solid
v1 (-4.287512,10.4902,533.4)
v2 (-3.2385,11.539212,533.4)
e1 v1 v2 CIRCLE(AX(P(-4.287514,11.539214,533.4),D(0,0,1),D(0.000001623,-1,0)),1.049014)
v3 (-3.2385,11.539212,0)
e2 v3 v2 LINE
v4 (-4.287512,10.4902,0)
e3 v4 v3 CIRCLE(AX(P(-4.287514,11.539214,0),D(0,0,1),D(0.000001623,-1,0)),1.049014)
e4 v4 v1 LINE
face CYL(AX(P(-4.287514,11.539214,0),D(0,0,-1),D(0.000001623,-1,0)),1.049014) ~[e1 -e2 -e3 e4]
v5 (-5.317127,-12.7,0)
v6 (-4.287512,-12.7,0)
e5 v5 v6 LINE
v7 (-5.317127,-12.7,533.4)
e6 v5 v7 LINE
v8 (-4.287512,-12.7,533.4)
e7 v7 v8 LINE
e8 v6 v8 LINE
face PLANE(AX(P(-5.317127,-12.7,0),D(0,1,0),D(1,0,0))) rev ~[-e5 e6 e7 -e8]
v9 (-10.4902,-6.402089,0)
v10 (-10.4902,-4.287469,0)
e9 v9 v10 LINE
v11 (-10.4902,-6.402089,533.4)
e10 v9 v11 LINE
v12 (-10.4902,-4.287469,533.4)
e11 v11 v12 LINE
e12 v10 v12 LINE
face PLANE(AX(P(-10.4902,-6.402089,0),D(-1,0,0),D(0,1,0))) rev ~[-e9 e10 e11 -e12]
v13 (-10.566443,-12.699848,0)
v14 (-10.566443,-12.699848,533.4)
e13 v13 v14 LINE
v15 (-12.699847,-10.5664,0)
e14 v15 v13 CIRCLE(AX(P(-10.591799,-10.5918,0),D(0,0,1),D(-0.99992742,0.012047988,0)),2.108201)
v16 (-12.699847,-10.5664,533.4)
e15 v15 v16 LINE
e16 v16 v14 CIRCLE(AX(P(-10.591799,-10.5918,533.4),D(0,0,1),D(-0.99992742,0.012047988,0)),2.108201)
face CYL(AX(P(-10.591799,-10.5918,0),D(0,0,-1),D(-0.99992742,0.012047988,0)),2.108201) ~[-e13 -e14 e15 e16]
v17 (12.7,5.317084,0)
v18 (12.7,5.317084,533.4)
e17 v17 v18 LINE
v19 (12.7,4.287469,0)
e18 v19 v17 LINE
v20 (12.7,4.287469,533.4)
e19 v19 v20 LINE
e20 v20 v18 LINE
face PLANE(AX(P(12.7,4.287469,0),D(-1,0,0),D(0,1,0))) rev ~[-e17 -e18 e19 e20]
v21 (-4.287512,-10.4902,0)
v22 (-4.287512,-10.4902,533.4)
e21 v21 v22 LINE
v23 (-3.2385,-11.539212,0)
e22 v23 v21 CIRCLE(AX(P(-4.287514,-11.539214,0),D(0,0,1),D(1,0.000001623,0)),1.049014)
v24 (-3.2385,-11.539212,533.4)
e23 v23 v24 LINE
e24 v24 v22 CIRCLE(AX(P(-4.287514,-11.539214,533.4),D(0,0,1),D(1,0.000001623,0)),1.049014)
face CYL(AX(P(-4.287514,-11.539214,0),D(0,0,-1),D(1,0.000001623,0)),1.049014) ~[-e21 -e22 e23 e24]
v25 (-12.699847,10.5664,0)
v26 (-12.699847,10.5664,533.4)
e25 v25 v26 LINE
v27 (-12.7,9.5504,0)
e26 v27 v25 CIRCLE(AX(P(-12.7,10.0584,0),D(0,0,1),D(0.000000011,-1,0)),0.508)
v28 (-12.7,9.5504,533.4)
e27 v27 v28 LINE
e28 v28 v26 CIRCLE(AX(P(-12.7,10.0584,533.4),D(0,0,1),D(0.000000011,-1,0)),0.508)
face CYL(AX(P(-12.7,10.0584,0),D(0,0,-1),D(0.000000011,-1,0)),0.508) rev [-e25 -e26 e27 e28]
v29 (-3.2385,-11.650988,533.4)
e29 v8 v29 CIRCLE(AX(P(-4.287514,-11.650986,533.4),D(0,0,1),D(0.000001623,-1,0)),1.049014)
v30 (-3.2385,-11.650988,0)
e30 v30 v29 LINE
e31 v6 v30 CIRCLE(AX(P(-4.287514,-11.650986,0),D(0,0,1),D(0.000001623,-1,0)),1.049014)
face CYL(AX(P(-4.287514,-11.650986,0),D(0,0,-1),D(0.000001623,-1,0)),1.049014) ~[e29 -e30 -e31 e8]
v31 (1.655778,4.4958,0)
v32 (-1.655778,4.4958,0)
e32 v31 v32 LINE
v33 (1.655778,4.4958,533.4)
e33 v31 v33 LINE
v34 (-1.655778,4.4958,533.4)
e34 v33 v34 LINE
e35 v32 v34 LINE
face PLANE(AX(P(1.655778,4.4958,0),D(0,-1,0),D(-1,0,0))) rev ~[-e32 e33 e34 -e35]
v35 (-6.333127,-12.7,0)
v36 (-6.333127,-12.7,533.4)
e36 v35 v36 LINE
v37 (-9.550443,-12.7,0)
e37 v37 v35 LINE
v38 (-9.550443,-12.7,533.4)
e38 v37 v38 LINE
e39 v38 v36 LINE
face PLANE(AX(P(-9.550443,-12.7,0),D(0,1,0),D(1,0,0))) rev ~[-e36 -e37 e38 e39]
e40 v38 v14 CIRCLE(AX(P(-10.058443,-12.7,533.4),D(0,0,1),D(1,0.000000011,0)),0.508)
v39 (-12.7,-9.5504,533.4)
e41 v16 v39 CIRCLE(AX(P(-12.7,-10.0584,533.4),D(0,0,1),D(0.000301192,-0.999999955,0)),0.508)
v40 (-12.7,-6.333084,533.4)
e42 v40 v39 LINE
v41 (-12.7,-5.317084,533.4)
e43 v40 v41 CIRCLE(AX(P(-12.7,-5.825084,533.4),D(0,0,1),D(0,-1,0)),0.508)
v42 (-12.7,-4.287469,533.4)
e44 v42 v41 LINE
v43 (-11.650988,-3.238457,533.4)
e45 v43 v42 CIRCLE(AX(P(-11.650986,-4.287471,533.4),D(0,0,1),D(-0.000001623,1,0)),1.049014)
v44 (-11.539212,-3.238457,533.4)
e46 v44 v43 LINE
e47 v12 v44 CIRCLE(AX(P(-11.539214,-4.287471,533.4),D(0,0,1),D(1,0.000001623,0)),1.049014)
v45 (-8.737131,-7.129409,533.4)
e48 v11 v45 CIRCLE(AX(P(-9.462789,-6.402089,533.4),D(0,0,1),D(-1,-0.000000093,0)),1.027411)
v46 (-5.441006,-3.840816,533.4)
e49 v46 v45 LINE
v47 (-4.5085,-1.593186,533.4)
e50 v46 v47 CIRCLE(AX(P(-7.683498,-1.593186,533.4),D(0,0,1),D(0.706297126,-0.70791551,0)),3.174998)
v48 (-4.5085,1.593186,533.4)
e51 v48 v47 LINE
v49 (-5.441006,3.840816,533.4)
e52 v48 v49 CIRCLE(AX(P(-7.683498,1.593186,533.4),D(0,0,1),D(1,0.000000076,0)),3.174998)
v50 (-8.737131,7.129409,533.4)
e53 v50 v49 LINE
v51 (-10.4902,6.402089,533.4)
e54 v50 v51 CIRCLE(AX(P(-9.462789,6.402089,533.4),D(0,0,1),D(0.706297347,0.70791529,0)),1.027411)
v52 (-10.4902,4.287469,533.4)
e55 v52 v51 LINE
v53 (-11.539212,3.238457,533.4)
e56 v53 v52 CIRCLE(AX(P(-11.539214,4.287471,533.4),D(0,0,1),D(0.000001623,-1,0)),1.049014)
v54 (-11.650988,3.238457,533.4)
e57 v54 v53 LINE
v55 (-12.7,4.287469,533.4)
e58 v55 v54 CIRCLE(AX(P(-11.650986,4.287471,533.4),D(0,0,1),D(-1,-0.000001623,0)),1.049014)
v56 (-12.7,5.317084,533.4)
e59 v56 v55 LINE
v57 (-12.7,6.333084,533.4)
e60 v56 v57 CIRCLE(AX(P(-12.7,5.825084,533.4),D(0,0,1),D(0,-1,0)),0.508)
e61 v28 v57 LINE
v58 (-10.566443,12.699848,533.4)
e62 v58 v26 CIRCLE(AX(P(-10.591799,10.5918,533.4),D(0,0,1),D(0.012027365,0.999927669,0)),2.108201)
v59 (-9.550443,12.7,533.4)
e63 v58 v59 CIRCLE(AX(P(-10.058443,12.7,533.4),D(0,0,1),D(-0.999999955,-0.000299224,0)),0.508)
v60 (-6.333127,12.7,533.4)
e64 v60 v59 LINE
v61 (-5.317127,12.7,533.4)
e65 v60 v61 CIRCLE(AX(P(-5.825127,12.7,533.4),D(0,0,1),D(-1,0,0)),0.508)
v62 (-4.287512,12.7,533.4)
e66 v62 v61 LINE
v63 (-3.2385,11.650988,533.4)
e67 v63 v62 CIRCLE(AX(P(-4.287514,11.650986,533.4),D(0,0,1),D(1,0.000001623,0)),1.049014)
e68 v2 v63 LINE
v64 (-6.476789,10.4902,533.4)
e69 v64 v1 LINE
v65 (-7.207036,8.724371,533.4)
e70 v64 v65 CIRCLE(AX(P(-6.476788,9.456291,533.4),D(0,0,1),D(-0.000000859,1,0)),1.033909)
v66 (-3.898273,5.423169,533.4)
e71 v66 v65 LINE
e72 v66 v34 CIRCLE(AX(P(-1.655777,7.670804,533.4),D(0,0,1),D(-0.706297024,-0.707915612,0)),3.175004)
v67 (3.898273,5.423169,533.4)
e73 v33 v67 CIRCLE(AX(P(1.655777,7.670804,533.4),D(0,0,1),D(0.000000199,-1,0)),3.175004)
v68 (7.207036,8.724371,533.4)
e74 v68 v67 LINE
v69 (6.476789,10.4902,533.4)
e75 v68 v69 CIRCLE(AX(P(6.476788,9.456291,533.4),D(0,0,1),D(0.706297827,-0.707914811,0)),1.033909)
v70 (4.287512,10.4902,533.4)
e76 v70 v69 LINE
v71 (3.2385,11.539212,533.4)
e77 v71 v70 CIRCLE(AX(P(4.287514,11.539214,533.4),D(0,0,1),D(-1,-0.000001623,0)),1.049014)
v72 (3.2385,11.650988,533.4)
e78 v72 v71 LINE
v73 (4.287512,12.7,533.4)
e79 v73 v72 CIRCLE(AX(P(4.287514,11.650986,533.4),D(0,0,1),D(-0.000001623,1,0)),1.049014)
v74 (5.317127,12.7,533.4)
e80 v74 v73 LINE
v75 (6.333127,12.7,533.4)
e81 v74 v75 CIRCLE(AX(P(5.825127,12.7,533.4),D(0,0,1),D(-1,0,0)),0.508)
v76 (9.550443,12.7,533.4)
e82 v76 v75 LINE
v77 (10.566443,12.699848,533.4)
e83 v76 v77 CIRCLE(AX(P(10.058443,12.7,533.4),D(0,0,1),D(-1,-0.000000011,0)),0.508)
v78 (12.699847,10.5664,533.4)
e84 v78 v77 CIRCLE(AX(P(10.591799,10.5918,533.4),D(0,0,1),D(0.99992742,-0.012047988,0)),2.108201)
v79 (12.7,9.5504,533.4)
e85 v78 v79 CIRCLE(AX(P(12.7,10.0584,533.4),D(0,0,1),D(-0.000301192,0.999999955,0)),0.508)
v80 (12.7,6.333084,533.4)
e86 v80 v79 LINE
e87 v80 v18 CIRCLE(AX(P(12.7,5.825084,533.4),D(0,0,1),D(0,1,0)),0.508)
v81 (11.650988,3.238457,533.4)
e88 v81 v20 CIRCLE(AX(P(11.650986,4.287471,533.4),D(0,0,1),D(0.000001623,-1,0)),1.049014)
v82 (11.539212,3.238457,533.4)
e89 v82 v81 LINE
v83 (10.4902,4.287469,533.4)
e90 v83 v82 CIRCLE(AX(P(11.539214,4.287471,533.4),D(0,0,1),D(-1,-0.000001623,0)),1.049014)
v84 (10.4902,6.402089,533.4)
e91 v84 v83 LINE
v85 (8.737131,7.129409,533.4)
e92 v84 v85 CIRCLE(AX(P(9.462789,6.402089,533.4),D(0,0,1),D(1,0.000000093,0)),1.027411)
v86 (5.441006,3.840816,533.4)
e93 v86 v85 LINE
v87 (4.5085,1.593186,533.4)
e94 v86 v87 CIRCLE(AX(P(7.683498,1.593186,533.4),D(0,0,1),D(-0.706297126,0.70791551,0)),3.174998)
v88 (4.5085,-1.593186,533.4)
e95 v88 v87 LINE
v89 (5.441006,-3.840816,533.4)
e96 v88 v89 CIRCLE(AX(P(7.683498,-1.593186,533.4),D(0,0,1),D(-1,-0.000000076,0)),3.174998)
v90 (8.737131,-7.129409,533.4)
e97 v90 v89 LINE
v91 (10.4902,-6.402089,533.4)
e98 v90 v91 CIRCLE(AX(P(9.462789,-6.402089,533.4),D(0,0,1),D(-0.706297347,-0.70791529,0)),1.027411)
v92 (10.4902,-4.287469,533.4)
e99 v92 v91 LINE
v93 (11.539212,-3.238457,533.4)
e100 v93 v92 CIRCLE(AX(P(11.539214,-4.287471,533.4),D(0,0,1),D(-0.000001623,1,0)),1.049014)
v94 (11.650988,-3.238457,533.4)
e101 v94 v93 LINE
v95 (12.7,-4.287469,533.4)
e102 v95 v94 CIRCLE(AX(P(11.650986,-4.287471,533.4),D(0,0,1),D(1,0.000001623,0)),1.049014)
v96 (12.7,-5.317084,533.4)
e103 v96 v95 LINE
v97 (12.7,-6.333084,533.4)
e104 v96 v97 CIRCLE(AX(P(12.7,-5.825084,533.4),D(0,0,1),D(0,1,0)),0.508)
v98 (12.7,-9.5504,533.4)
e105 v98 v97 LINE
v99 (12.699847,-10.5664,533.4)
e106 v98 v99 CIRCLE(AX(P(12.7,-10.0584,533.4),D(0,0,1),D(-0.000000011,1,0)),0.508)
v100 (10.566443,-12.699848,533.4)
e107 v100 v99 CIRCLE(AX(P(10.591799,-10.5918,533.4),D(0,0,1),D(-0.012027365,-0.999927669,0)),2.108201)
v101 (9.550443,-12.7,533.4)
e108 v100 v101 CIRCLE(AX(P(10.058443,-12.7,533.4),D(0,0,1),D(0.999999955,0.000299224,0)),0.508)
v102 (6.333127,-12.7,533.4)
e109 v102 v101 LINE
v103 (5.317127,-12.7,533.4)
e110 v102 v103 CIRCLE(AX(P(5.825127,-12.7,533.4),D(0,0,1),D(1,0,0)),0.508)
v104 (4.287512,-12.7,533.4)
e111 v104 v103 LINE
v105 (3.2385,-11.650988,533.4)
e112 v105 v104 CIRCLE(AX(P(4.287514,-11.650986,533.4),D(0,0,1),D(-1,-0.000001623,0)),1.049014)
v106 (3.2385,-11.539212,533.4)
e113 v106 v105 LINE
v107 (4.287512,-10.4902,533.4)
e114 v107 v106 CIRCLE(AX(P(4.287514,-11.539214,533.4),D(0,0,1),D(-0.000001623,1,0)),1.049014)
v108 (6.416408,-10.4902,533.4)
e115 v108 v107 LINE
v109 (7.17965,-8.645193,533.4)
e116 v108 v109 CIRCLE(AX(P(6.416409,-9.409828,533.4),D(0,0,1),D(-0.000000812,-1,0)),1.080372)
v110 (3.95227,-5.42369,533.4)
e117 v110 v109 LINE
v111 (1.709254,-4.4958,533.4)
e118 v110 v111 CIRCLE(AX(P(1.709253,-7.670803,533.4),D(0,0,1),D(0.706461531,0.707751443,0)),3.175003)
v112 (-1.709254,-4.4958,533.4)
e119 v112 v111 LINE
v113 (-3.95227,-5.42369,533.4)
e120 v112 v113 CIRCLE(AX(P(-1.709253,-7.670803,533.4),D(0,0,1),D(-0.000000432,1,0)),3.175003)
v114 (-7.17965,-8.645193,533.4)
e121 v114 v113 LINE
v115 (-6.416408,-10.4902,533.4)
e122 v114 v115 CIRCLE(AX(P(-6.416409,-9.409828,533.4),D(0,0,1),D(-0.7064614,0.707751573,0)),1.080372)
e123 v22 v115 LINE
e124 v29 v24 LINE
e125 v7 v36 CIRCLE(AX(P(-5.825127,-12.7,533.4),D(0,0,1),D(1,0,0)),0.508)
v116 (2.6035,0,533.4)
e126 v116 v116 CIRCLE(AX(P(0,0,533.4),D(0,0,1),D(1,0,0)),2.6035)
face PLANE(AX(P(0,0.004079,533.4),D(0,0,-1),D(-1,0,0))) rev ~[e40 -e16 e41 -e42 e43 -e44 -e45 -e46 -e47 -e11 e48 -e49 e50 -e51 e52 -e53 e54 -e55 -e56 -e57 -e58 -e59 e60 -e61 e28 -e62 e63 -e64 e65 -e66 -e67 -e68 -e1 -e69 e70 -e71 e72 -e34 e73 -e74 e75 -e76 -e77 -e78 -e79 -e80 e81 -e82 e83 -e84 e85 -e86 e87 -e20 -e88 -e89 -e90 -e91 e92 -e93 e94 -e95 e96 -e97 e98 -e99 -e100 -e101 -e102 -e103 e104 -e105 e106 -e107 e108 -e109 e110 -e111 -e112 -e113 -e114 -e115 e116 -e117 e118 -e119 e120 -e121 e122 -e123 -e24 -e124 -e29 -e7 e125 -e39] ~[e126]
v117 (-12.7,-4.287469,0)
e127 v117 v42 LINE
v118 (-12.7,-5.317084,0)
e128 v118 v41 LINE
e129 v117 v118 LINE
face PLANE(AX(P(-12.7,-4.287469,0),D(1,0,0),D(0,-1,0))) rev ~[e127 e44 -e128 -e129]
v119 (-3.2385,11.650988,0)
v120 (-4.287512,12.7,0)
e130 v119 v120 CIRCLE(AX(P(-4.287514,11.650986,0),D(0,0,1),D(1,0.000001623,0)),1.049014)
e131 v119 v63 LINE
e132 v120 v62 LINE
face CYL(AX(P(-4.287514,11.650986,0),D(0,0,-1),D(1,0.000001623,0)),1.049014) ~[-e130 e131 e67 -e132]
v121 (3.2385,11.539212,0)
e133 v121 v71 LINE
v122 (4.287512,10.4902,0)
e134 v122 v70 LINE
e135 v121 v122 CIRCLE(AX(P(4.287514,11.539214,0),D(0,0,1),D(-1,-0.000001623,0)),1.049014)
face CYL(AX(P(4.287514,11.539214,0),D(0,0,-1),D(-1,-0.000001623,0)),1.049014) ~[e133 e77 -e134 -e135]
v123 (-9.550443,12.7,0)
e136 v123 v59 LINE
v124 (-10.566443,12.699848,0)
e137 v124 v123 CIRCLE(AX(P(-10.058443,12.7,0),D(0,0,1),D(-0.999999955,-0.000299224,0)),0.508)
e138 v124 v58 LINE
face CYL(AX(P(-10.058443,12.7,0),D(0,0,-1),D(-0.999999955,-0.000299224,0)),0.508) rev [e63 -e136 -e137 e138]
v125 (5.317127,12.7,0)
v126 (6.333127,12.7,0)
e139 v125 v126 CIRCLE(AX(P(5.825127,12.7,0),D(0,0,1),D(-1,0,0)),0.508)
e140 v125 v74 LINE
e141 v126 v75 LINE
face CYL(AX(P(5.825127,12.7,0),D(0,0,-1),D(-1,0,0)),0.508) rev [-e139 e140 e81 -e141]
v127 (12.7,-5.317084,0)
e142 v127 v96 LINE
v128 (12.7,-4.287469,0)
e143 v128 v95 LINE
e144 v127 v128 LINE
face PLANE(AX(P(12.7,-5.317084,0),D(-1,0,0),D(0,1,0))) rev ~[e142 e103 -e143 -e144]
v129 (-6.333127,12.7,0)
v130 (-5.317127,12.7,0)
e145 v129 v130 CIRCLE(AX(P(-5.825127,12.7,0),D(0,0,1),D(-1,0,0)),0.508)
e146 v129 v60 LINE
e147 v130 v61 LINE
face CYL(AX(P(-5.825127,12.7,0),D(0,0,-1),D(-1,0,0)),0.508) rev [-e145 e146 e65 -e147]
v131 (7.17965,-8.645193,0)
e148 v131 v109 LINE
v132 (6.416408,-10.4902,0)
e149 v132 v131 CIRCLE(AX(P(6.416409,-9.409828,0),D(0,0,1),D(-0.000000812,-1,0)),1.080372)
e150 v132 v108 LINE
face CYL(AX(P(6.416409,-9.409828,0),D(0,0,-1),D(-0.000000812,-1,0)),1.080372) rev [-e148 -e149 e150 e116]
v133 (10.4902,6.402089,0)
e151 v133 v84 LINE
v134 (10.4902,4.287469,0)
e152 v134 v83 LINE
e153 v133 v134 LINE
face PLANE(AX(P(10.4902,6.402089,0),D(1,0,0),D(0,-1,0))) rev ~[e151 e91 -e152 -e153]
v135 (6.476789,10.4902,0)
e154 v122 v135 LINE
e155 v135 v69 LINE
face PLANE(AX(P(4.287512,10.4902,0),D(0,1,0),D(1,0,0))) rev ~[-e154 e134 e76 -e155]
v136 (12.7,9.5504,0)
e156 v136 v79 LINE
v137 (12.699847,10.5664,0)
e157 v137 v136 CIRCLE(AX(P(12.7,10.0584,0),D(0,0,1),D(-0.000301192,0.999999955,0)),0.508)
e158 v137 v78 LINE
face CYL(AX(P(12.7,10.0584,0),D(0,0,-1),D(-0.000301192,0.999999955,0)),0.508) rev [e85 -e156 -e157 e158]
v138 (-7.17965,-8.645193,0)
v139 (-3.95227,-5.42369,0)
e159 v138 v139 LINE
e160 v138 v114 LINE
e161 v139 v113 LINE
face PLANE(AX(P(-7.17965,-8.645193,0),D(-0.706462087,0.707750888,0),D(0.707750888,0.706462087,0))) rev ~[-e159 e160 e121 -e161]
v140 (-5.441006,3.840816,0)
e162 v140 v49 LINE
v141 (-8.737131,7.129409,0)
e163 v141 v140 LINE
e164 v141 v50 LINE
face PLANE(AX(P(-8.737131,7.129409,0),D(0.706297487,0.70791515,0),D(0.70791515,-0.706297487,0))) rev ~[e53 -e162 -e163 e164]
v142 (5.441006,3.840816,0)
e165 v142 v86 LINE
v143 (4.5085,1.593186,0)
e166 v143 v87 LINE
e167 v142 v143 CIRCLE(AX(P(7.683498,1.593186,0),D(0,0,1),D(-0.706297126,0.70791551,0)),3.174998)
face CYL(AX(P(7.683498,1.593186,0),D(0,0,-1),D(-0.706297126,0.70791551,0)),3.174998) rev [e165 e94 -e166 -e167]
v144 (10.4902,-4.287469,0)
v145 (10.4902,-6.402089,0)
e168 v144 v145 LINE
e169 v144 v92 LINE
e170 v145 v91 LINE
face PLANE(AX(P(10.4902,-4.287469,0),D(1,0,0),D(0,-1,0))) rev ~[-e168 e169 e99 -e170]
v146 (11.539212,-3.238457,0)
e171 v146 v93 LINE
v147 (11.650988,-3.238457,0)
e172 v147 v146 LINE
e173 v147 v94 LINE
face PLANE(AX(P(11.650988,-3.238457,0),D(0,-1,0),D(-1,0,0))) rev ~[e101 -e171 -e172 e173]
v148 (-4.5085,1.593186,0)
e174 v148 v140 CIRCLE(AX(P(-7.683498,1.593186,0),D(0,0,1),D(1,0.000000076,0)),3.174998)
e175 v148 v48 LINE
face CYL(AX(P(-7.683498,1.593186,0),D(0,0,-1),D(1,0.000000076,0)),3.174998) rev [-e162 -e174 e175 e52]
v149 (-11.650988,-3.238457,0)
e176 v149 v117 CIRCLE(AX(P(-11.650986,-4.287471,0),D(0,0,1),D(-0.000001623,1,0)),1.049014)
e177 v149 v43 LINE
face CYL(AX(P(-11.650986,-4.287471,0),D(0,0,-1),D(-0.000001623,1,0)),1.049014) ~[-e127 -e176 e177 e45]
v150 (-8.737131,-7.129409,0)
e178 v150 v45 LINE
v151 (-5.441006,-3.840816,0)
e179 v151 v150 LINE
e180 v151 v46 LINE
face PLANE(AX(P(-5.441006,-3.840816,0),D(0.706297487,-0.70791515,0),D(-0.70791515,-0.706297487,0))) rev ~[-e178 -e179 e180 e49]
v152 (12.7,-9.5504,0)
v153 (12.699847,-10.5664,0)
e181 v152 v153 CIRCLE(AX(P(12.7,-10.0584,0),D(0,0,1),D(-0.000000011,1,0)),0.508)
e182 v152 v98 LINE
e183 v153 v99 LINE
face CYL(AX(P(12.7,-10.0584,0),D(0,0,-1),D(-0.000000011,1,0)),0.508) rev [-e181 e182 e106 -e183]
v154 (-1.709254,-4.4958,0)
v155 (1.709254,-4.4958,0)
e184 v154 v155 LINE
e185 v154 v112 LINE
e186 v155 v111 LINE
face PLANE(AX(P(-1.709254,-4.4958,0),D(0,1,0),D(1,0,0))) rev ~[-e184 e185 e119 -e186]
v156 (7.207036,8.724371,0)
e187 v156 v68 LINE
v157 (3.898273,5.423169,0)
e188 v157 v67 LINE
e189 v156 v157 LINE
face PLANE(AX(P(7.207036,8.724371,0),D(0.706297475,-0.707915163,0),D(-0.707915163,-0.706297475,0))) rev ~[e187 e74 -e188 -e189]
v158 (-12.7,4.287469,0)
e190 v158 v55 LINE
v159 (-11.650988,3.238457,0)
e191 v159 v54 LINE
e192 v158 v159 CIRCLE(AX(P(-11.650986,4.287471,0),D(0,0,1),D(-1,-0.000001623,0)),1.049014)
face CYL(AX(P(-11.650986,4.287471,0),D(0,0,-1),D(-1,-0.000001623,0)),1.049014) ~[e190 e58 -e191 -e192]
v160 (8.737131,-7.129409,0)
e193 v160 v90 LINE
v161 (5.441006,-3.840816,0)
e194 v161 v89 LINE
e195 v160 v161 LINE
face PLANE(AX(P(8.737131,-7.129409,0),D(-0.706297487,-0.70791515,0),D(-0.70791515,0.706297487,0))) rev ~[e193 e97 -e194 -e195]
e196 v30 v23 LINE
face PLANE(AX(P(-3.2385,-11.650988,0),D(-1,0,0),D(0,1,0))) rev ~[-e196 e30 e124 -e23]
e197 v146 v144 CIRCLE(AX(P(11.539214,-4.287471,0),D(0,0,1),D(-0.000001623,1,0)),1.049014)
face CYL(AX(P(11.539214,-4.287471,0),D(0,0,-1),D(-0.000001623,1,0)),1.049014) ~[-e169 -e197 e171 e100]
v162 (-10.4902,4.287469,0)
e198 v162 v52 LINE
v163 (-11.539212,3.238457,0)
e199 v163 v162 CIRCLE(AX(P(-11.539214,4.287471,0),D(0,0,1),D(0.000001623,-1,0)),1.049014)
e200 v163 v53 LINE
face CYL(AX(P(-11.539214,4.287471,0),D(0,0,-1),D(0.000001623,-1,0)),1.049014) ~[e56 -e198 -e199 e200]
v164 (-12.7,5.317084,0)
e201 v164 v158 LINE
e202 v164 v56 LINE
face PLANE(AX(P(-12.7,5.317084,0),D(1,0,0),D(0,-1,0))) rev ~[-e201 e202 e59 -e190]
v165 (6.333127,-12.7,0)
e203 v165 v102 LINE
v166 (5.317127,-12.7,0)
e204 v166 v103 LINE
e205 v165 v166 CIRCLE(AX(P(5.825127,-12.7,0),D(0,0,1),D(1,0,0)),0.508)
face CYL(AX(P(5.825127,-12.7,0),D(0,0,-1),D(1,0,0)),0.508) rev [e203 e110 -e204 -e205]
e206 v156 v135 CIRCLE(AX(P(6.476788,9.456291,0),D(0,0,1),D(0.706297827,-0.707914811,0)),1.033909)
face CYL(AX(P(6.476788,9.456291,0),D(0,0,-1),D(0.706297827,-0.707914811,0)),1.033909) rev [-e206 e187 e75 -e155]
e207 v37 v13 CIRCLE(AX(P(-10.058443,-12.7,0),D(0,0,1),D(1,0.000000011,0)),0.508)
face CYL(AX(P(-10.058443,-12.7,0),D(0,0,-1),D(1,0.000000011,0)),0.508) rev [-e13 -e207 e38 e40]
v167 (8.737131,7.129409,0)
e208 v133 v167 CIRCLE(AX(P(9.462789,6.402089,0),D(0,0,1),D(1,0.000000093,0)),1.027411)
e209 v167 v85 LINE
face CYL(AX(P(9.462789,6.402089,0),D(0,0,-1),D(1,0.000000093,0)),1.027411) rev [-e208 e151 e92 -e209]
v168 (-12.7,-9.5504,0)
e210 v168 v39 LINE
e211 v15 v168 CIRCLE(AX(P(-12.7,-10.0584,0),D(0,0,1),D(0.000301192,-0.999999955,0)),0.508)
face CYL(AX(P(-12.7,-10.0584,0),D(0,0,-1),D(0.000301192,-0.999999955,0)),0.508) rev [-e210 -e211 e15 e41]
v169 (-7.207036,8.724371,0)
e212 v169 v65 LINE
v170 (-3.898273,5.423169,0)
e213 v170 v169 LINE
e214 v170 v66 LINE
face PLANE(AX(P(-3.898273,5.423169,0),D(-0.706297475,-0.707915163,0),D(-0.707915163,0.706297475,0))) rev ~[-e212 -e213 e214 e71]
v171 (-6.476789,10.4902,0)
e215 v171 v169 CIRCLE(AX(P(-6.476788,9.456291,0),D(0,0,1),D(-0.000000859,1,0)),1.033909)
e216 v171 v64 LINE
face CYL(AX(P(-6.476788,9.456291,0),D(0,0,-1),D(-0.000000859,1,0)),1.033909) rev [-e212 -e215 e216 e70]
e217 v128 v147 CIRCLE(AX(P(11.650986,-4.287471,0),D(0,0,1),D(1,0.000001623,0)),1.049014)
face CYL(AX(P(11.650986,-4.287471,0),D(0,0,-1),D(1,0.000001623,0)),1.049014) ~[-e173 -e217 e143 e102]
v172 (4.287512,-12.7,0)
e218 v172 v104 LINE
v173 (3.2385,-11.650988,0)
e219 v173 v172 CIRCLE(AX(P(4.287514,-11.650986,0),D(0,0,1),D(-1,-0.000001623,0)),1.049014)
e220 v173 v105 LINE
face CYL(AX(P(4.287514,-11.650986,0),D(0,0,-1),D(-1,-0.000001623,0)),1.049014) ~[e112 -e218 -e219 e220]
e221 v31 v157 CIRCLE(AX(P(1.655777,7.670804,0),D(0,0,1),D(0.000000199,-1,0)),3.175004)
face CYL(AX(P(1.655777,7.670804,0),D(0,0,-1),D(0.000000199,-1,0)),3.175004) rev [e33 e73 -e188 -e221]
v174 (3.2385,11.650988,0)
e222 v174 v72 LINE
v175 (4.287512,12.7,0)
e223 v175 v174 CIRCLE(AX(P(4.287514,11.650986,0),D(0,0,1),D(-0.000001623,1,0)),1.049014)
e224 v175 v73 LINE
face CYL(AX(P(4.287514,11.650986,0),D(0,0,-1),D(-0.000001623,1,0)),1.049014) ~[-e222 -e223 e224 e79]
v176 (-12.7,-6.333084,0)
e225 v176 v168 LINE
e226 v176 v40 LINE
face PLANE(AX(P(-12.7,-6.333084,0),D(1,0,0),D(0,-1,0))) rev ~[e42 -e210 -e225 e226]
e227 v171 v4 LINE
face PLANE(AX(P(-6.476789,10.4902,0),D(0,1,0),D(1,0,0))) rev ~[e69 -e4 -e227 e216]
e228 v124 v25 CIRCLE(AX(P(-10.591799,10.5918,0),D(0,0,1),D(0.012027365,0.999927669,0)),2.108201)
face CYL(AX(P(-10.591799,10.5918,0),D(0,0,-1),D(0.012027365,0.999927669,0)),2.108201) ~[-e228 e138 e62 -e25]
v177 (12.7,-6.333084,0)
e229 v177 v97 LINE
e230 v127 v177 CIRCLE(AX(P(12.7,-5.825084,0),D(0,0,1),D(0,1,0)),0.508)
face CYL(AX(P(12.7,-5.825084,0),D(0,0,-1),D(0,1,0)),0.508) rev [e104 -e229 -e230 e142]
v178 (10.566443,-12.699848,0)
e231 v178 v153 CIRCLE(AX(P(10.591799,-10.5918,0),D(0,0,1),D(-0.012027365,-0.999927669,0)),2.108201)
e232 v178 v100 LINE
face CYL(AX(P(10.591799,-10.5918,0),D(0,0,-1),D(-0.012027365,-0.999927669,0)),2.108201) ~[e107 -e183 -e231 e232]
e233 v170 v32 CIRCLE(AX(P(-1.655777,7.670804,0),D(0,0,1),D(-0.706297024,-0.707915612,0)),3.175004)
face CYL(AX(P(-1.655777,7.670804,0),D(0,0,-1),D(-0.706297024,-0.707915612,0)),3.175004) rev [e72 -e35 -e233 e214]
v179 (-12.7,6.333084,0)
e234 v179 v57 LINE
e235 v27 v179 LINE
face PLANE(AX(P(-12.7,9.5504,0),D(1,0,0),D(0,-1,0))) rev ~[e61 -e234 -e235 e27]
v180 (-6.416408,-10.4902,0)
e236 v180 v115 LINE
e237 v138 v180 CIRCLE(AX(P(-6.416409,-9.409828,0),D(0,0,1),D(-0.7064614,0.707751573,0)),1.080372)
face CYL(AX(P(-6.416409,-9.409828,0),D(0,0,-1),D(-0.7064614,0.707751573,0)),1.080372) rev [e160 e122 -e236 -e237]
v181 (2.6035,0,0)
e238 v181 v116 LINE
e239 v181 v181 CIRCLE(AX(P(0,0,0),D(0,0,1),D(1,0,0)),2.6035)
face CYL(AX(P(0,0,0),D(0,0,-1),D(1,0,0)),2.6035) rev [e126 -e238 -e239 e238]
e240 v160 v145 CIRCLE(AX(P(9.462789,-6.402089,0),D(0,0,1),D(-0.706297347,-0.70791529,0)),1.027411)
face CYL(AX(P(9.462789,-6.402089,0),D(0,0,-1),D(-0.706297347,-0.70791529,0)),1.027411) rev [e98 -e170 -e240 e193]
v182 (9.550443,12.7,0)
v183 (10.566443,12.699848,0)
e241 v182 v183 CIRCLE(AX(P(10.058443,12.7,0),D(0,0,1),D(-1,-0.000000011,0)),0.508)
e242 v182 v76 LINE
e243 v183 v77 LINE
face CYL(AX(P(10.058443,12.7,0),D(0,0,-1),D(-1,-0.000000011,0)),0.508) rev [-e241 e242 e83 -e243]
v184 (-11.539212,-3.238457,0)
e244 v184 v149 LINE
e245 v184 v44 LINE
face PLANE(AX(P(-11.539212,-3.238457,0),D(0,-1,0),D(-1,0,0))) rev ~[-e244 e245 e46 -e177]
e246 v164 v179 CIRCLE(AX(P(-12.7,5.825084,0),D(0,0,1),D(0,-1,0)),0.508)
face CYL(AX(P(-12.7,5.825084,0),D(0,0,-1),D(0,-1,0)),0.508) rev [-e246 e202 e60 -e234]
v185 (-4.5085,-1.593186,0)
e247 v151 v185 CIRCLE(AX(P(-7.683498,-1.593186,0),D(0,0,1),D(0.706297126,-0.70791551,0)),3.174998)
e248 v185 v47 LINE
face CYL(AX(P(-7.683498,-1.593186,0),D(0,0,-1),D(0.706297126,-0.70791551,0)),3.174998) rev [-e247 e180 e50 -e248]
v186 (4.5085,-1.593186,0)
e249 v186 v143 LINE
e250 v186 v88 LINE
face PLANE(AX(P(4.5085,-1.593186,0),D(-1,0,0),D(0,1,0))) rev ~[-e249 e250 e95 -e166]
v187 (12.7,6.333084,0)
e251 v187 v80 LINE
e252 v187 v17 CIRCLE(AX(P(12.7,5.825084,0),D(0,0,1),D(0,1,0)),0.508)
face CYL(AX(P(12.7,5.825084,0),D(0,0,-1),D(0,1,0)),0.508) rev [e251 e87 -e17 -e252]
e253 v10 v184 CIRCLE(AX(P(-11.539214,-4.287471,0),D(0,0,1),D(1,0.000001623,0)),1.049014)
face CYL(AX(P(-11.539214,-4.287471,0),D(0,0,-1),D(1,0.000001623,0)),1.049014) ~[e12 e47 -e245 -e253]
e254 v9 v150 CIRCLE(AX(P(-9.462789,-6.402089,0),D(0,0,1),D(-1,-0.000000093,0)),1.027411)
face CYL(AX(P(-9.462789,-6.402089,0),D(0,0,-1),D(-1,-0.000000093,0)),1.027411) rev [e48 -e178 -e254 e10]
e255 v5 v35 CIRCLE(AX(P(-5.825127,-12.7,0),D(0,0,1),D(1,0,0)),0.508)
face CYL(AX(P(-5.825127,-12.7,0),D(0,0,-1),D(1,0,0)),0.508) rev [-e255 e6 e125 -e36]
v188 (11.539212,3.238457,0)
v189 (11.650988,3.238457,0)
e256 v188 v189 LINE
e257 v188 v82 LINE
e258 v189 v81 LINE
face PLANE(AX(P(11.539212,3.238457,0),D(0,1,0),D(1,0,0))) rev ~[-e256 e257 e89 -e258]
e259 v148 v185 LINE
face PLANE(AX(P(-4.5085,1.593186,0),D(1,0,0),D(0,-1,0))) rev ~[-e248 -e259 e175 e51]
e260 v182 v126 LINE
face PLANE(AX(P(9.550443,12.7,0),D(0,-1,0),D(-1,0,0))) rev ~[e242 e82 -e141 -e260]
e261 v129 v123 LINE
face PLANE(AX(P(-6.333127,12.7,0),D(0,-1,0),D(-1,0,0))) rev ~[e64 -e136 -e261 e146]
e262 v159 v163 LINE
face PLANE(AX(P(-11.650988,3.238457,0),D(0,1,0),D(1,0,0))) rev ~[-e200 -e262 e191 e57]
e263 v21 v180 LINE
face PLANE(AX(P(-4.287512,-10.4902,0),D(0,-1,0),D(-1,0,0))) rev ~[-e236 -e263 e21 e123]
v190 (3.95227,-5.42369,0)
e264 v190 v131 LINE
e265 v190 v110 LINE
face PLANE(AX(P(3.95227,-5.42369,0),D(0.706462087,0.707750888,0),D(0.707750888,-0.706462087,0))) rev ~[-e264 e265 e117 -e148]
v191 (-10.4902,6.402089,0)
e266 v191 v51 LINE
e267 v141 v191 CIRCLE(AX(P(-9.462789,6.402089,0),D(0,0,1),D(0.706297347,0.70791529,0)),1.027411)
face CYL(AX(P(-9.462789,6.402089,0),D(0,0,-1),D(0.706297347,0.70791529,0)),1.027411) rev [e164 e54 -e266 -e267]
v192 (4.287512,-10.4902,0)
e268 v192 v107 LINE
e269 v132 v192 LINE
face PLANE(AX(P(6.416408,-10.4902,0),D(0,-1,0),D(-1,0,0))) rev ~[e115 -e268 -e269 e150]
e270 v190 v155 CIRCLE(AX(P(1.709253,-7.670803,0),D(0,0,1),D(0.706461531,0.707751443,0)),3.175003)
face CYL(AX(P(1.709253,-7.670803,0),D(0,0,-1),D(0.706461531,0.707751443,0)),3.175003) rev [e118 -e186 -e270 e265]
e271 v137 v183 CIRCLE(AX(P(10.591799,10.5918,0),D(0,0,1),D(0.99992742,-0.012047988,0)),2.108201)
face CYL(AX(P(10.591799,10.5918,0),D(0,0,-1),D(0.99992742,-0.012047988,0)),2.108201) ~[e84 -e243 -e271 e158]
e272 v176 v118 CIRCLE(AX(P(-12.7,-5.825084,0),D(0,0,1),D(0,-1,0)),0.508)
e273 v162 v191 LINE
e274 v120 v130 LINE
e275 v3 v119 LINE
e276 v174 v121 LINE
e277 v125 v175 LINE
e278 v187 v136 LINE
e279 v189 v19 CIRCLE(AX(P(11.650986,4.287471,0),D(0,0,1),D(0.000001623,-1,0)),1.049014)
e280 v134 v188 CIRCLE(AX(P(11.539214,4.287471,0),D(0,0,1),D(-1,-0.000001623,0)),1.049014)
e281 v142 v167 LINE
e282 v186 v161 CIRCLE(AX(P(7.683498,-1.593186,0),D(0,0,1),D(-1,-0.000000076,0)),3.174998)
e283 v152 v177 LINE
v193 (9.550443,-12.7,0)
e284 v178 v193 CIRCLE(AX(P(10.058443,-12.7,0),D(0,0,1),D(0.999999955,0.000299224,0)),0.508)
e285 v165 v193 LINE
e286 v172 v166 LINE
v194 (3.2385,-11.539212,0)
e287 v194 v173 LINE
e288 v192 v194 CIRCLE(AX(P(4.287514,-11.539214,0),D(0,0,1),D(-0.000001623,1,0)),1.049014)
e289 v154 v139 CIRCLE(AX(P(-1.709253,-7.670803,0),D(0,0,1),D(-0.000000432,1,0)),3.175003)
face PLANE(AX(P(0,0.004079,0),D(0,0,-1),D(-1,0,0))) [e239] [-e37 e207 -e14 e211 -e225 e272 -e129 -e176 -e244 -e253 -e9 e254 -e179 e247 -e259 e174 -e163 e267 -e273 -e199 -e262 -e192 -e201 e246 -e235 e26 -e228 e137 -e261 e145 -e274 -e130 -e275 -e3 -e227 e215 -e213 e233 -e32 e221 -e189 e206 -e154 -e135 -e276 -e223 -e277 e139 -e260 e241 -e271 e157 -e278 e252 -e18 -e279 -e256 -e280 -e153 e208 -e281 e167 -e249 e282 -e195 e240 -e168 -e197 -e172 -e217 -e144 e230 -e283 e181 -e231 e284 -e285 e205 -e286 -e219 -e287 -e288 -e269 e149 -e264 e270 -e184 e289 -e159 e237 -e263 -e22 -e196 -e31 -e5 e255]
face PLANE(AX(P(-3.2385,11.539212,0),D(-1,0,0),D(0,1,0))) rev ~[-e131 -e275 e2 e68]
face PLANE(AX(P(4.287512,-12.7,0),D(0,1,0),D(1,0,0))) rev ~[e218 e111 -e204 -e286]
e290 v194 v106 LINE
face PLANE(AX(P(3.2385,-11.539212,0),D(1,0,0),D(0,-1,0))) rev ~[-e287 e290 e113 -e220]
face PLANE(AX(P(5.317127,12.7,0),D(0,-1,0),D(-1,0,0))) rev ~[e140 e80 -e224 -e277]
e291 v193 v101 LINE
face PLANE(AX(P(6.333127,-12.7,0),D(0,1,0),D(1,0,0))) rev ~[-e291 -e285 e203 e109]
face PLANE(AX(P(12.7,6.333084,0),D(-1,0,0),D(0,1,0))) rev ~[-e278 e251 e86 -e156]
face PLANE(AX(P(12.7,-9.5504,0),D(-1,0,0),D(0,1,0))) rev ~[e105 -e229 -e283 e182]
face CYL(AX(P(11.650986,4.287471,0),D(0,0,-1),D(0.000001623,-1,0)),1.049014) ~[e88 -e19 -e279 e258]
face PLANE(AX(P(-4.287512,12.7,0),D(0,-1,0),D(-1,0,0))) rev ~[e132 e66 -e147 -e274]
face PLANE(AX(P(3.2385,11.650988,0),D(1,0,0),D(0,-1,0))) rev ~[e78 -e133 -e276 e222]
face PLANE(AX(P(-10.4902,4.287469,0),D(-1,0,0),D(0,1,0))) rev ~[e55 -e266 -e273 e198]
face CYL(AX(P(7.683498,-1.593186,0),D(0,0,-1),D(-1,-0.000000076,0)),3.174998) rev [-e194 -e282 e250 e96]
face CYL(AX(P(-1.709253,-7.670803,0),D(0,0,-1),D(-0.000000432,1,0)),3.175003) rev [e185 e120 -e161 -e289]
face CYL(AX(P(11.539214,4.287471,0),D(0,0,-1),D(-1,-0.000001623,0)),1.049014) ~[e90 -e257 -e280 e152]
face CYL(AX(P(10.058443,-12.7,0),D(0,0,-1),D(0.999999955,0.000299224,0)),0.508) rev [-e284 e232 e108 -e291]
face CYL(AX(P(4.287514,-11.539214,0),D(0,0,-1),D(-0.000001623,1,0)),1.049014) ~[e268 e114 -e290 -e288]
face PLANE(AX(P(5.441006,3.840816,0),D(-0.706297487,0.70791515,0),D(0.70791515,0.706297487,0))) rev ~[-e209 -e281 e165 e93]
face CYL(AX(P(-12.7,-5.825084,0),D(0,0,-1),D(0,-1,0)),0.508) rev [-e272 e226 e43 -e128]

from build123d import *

# Parameters (mm, degrees)
SKETCH097_R   = 2.6035
EXTRUDE_DEPTH = 533.4


with BuildPart() as part:
    # Sketch097 → Extrude (new body)
    with BuildSketch(Plane.XY):
        with BuildLine():
            ThreePointArc((12.7, 6.333084), (12.192, 5.825084), (12.7, 5.317084))
            Line((12.7, 4.287469), (12.7, 5.317084))
            ThreePointArc((11.650988, 3.238457), (12.392751, 3.545706), (12.7, 4.287469))
            Line((11.539212, 3.238457), (11.650988, 3.238457))
            ThreePointArc((10.4902, 4.287469), (10.797449, 3.545706), (11.539212, 3.238457))
            Line((10.4902, 6.402089), (10.4902, 4.287469))
            ThreePointArc((10.4902, 6.402089), (9.856505, 7.351068), (8.737131, 7.129409))
            Line((5.441006, 3.840816), (8.737131, 7.129409))
            ThreePointArc((5.441006, 3.840816), (4.750878, 2.809883), (4.5085, 1.593186))
            Line((4.5085, -1.593186), (4.5085, 1.593186))
            ThreePointArc((4.5085, -1.593186), (4.750878, -2.809883), (5.441006, -3.840816))
            Line((8.737131, -7.129409), (5.441006, -3.840816))
            ThreePointArc((8.737131, -7.129409), (9.856505, -7.351068), (10.4902, -6.402089))
            Line((10.4902, -4.287469), (10.4902, -6.402089))
            ThreePointArc((11.539212, -3.238457), (10.797449, -3.545706), (10.4902, -4.287469))
            Line((11.650988, -3.238457), (11.539212, -3.238457))
            ThreePointArc((12.7, -4.287469), (12.392751, -3.545706), (11.650988, -3.238457))
            Line((12.7, -5.317084), (12.7, -4.287469))
            ThreePointArc((12.7, -5.317084), (12.192, -5.825084), (12.7, -6.333084))
            Line((12.7, -9.5504), (12.7, -6.333084))
            ThreePointArc((12.7, -9.5504), (12.192, -10.058323), (12.699847, -10.5664))
            ThreePointArc((10.566443, -12.699848), (12.082538, -12.082507), (12.699847, -10.5664))
            ThreePointArc((10.566443, -12.699848), (10.058367, -12.192), (9.550443, -12.7))
            Line((6.333127, -12.7), (9.550443, -12.7))
            ThreePointArc((6.333127, -12.7), (5.825127, -12.192), (5.317127, -12.7))
            Line((4.287512, -12.7), (5.317127, -12.7))
            ThreePointArc((3.2385, -11.650988), (3.545749, -12.392751), (4.287512, -12.7))
            Line((3.2385, -11.539212), (3.2385, -11.650988))
            ThreePointArc((4.287512, -10.4902), (3.545749, -10.797449), (3.2385, -11.539212))
            Line((6.416408, -10.4902), (4.287512, -10.4902))
            ThreePointArc((6.416408, -10.4902), (7.414731, -9.822813), (7.17965, -8.645193))
            Line((3.95227, -5.42369), (7.17965, -8.645193))
            ThreePointArc((3.95227, -5.42369), (2.922936, -4.736929), (1.709254, -4.4958))
            Line((-1.709254, -4.4958), (1.709254, -4.4958))
            ThreePointArc((-1.709254, -4.4958), (-2.922936, -4.736929), (-3.95227, -5.42369))
            Line((-7.17965, -8.645193), (-3.95227, -5.42369))
            ThreePointArc((-7.17965, -8.645193), (-7.414731, -9.822813), (-6.416408, -10.4902))
            Line((-4.287512, -10.4902), (-6.416408, -10.4902))
            ThreePointArc((-3.2385, -11.539212), (-3.545749, -10.797449), (-4.287512, -10.4902))
            Line((-3.2385, -11.650988), (-3.2385, -11.539212))
            ThreePointArc((-4.287512, -12.7), (-3.545749, -12.392751), (-3.2385, -11.650988))
            Line((-5.317127, -12.7), (-4.287512, -12.7))
            ThreePointArc((-5.317127, -12.7), (-5.825127, -12.192), (-6.333127, -12.7))
            Line((-9.550443, -12.7), (-6.333127, -12.7))
            ThreePointArc((-9.550443, -12.7), (-10.058367, -12.192), (-10.566443, -12.699848))
            ThreePointArc((-12.699847, -10.5664), (-12.082538, -12.082507), (-10.566443, -12.699848))
            ThreePointArc((-12.699847, -10.5664), (-12.192, -10.058323), (-12.7, -9.5504))
            Line((-12.7, -6.333084), (-12.7, -9.5504))
            ThreePointArc((-12.7, -6.333084), (-12.192, -5.825084), (-12.7, -5.317084))
            Line((-12.7, -4.287469), (-12.7, -5.317084))
            ThreePointArc((-11.650988, -3.238457), (-12.392751, -3.545706), (-12.7, -4.287469))
            Line((-11.539212, -3.238457), (-11.650988, -3.238457))
            ThreePointArc((-10.4902, -4.287469), (-10.797449, -3.545706), (-11.539212, -3.238457))
            Line((-10.4902, -6.402089), (-10.4902, -4.287469))
            ThreePointArc((-10.4902, -6.402089), (-9.856505, -7.351068), (-8.737131, -7.129409))
            Line((-5.441006, -3.840816), (-8.737131, -7.129409))
            ThreePointArc((-5.441006, -3.840816), (-4.750878, -2.809883), (-4.5085, -1.593186))
            Line((-4.5085, 1.593186), (-4.5085, -1.593186))
            ThreePointArc((-4.5085, 1.593186), (-4.750878, 2.809883), (-5.441006, 3.840816))
            Line((-8.737131, 7.129409), (-5.441006, 3.840816))
            ThreePointArc((-8.737131, 7.129409), (-9.856505, 7.351068), (-10.4902, 6.402089))
            Line((-10.4902, 4.287469), (-10.4902, 6.402089))
            ThreePointArc((-11.539212, 3.238457), (-10.797449, 3.545706), (-10.4902, 4.287469))
            Line((-11.650988, 3.238457), (-11.539212, 3.238457))
            ThreePointArc((-12.7, 4.287469), (-12.392751, 3.545706), (-11.650988, 3.238457))
            Line((-12.7, 5.317084), (-12.7, 4.287469))
            ThreePointArc((-12.7, 5.317084), (-12.192, 5.825084), (-12.7, 6.333084))
            Line((-12.7, 9.5504), (-12.7, 6.333084))
            ThreePointArc((-12.7, 9.5504), (-12.192, 10.058323), (-12.699847, 10.5664))
            ThreePointArc((-10.566443, 12.699848), (-12.082538, 12.082507), (-12.699847, 10.5664))
            ThreePointArc((-10.566443, 12.699848), (-10.058367, 12.192), (-9.550443, 12.7))
            Line((-6.333127, 12.7), (-9.550443, 12.7))
            ThreePointArc((-6.333127, 12.7), (-5.825127, 12.192), (-5.317127, 12.7))
            Line((-4.287512, 12.7), (-5.317127, 12.7))
            ThreePointArc((-3.2385, 11.650988), (-3.545749, 12.392751), (-4.287512, 12.7))
            Line((-3.2385, 11.539212), (-3.2385, 11.650988))
            ThreePointArc((-4.287512, 10.4902), (-3.545749, 10.797449), (-3.2385, 11.539212))
            Line((-6.476789, 10.4902), (-4.287512, 10.4902))
            ThreePointArc((-6.476789, 10.4902), (-7.432222, 9.851404), (-7.207036, 8.724371))
            Line((-3.898273, 5.423169), (-7.207036, 8.724371))
            ThreePointArc((-3.898273, 5.423169), (-2.86912, 4.736788), (-1.655778, 4.4958))
            Line((1.655778, 4.4958), (-1.655778, 4.4958))
            ThreePointArc((1.655778, 4.4958), (2.86912, 4.736788), (3.898273, 5.423169))
            Line((7.207036, 8.724371), (3.898273, 5.423169))
            ThreePointArc((7.207036, 8.724371), (7.432222, 9.851404), (6.476789, 10.4902))
            Line((4.287512, 10.4902), (6.476789, 10.4902))
            ThreePointArc((3.2385, 11.539212), (3.545749, 10.797449), (4.287512, 10.4902))
            Line((3.2385, 11.650988), (3.2385, 11.539212))
            ThreePointArc((4.287512, 12.7), (3.545749, 12.392751), (3.2385, 11.650988))
            Line((5.317127, 12.7), (4.287512, 12.7))
            ThreePointArc((5.317127, 12.7), (5.825127, 12.192), (6.333127, 12.7))
            Line((9.550443, 12.7), (6.333127, 12.7))
            ThreePointArc((9.550443, 12.7), (10.058367, 12.192), (10.566443, 12.699848))
            ThreePointArc((12.699847, 10.5664), (12.082538, 12.082507), (10.566443, 12.699848))
            ThreePointArc((12.699847, 10.5664), (12.192, 10.058323), (12.7, 9.5504))
            Line((12.7, 6.333084), (12.7, 9.5504))
        make_face()
        Circle(SKETCH097_R, mode=Mode.SUBTRACT)
    extrude(amount=EXTRUDE_DEPTH)


solid = part.part
